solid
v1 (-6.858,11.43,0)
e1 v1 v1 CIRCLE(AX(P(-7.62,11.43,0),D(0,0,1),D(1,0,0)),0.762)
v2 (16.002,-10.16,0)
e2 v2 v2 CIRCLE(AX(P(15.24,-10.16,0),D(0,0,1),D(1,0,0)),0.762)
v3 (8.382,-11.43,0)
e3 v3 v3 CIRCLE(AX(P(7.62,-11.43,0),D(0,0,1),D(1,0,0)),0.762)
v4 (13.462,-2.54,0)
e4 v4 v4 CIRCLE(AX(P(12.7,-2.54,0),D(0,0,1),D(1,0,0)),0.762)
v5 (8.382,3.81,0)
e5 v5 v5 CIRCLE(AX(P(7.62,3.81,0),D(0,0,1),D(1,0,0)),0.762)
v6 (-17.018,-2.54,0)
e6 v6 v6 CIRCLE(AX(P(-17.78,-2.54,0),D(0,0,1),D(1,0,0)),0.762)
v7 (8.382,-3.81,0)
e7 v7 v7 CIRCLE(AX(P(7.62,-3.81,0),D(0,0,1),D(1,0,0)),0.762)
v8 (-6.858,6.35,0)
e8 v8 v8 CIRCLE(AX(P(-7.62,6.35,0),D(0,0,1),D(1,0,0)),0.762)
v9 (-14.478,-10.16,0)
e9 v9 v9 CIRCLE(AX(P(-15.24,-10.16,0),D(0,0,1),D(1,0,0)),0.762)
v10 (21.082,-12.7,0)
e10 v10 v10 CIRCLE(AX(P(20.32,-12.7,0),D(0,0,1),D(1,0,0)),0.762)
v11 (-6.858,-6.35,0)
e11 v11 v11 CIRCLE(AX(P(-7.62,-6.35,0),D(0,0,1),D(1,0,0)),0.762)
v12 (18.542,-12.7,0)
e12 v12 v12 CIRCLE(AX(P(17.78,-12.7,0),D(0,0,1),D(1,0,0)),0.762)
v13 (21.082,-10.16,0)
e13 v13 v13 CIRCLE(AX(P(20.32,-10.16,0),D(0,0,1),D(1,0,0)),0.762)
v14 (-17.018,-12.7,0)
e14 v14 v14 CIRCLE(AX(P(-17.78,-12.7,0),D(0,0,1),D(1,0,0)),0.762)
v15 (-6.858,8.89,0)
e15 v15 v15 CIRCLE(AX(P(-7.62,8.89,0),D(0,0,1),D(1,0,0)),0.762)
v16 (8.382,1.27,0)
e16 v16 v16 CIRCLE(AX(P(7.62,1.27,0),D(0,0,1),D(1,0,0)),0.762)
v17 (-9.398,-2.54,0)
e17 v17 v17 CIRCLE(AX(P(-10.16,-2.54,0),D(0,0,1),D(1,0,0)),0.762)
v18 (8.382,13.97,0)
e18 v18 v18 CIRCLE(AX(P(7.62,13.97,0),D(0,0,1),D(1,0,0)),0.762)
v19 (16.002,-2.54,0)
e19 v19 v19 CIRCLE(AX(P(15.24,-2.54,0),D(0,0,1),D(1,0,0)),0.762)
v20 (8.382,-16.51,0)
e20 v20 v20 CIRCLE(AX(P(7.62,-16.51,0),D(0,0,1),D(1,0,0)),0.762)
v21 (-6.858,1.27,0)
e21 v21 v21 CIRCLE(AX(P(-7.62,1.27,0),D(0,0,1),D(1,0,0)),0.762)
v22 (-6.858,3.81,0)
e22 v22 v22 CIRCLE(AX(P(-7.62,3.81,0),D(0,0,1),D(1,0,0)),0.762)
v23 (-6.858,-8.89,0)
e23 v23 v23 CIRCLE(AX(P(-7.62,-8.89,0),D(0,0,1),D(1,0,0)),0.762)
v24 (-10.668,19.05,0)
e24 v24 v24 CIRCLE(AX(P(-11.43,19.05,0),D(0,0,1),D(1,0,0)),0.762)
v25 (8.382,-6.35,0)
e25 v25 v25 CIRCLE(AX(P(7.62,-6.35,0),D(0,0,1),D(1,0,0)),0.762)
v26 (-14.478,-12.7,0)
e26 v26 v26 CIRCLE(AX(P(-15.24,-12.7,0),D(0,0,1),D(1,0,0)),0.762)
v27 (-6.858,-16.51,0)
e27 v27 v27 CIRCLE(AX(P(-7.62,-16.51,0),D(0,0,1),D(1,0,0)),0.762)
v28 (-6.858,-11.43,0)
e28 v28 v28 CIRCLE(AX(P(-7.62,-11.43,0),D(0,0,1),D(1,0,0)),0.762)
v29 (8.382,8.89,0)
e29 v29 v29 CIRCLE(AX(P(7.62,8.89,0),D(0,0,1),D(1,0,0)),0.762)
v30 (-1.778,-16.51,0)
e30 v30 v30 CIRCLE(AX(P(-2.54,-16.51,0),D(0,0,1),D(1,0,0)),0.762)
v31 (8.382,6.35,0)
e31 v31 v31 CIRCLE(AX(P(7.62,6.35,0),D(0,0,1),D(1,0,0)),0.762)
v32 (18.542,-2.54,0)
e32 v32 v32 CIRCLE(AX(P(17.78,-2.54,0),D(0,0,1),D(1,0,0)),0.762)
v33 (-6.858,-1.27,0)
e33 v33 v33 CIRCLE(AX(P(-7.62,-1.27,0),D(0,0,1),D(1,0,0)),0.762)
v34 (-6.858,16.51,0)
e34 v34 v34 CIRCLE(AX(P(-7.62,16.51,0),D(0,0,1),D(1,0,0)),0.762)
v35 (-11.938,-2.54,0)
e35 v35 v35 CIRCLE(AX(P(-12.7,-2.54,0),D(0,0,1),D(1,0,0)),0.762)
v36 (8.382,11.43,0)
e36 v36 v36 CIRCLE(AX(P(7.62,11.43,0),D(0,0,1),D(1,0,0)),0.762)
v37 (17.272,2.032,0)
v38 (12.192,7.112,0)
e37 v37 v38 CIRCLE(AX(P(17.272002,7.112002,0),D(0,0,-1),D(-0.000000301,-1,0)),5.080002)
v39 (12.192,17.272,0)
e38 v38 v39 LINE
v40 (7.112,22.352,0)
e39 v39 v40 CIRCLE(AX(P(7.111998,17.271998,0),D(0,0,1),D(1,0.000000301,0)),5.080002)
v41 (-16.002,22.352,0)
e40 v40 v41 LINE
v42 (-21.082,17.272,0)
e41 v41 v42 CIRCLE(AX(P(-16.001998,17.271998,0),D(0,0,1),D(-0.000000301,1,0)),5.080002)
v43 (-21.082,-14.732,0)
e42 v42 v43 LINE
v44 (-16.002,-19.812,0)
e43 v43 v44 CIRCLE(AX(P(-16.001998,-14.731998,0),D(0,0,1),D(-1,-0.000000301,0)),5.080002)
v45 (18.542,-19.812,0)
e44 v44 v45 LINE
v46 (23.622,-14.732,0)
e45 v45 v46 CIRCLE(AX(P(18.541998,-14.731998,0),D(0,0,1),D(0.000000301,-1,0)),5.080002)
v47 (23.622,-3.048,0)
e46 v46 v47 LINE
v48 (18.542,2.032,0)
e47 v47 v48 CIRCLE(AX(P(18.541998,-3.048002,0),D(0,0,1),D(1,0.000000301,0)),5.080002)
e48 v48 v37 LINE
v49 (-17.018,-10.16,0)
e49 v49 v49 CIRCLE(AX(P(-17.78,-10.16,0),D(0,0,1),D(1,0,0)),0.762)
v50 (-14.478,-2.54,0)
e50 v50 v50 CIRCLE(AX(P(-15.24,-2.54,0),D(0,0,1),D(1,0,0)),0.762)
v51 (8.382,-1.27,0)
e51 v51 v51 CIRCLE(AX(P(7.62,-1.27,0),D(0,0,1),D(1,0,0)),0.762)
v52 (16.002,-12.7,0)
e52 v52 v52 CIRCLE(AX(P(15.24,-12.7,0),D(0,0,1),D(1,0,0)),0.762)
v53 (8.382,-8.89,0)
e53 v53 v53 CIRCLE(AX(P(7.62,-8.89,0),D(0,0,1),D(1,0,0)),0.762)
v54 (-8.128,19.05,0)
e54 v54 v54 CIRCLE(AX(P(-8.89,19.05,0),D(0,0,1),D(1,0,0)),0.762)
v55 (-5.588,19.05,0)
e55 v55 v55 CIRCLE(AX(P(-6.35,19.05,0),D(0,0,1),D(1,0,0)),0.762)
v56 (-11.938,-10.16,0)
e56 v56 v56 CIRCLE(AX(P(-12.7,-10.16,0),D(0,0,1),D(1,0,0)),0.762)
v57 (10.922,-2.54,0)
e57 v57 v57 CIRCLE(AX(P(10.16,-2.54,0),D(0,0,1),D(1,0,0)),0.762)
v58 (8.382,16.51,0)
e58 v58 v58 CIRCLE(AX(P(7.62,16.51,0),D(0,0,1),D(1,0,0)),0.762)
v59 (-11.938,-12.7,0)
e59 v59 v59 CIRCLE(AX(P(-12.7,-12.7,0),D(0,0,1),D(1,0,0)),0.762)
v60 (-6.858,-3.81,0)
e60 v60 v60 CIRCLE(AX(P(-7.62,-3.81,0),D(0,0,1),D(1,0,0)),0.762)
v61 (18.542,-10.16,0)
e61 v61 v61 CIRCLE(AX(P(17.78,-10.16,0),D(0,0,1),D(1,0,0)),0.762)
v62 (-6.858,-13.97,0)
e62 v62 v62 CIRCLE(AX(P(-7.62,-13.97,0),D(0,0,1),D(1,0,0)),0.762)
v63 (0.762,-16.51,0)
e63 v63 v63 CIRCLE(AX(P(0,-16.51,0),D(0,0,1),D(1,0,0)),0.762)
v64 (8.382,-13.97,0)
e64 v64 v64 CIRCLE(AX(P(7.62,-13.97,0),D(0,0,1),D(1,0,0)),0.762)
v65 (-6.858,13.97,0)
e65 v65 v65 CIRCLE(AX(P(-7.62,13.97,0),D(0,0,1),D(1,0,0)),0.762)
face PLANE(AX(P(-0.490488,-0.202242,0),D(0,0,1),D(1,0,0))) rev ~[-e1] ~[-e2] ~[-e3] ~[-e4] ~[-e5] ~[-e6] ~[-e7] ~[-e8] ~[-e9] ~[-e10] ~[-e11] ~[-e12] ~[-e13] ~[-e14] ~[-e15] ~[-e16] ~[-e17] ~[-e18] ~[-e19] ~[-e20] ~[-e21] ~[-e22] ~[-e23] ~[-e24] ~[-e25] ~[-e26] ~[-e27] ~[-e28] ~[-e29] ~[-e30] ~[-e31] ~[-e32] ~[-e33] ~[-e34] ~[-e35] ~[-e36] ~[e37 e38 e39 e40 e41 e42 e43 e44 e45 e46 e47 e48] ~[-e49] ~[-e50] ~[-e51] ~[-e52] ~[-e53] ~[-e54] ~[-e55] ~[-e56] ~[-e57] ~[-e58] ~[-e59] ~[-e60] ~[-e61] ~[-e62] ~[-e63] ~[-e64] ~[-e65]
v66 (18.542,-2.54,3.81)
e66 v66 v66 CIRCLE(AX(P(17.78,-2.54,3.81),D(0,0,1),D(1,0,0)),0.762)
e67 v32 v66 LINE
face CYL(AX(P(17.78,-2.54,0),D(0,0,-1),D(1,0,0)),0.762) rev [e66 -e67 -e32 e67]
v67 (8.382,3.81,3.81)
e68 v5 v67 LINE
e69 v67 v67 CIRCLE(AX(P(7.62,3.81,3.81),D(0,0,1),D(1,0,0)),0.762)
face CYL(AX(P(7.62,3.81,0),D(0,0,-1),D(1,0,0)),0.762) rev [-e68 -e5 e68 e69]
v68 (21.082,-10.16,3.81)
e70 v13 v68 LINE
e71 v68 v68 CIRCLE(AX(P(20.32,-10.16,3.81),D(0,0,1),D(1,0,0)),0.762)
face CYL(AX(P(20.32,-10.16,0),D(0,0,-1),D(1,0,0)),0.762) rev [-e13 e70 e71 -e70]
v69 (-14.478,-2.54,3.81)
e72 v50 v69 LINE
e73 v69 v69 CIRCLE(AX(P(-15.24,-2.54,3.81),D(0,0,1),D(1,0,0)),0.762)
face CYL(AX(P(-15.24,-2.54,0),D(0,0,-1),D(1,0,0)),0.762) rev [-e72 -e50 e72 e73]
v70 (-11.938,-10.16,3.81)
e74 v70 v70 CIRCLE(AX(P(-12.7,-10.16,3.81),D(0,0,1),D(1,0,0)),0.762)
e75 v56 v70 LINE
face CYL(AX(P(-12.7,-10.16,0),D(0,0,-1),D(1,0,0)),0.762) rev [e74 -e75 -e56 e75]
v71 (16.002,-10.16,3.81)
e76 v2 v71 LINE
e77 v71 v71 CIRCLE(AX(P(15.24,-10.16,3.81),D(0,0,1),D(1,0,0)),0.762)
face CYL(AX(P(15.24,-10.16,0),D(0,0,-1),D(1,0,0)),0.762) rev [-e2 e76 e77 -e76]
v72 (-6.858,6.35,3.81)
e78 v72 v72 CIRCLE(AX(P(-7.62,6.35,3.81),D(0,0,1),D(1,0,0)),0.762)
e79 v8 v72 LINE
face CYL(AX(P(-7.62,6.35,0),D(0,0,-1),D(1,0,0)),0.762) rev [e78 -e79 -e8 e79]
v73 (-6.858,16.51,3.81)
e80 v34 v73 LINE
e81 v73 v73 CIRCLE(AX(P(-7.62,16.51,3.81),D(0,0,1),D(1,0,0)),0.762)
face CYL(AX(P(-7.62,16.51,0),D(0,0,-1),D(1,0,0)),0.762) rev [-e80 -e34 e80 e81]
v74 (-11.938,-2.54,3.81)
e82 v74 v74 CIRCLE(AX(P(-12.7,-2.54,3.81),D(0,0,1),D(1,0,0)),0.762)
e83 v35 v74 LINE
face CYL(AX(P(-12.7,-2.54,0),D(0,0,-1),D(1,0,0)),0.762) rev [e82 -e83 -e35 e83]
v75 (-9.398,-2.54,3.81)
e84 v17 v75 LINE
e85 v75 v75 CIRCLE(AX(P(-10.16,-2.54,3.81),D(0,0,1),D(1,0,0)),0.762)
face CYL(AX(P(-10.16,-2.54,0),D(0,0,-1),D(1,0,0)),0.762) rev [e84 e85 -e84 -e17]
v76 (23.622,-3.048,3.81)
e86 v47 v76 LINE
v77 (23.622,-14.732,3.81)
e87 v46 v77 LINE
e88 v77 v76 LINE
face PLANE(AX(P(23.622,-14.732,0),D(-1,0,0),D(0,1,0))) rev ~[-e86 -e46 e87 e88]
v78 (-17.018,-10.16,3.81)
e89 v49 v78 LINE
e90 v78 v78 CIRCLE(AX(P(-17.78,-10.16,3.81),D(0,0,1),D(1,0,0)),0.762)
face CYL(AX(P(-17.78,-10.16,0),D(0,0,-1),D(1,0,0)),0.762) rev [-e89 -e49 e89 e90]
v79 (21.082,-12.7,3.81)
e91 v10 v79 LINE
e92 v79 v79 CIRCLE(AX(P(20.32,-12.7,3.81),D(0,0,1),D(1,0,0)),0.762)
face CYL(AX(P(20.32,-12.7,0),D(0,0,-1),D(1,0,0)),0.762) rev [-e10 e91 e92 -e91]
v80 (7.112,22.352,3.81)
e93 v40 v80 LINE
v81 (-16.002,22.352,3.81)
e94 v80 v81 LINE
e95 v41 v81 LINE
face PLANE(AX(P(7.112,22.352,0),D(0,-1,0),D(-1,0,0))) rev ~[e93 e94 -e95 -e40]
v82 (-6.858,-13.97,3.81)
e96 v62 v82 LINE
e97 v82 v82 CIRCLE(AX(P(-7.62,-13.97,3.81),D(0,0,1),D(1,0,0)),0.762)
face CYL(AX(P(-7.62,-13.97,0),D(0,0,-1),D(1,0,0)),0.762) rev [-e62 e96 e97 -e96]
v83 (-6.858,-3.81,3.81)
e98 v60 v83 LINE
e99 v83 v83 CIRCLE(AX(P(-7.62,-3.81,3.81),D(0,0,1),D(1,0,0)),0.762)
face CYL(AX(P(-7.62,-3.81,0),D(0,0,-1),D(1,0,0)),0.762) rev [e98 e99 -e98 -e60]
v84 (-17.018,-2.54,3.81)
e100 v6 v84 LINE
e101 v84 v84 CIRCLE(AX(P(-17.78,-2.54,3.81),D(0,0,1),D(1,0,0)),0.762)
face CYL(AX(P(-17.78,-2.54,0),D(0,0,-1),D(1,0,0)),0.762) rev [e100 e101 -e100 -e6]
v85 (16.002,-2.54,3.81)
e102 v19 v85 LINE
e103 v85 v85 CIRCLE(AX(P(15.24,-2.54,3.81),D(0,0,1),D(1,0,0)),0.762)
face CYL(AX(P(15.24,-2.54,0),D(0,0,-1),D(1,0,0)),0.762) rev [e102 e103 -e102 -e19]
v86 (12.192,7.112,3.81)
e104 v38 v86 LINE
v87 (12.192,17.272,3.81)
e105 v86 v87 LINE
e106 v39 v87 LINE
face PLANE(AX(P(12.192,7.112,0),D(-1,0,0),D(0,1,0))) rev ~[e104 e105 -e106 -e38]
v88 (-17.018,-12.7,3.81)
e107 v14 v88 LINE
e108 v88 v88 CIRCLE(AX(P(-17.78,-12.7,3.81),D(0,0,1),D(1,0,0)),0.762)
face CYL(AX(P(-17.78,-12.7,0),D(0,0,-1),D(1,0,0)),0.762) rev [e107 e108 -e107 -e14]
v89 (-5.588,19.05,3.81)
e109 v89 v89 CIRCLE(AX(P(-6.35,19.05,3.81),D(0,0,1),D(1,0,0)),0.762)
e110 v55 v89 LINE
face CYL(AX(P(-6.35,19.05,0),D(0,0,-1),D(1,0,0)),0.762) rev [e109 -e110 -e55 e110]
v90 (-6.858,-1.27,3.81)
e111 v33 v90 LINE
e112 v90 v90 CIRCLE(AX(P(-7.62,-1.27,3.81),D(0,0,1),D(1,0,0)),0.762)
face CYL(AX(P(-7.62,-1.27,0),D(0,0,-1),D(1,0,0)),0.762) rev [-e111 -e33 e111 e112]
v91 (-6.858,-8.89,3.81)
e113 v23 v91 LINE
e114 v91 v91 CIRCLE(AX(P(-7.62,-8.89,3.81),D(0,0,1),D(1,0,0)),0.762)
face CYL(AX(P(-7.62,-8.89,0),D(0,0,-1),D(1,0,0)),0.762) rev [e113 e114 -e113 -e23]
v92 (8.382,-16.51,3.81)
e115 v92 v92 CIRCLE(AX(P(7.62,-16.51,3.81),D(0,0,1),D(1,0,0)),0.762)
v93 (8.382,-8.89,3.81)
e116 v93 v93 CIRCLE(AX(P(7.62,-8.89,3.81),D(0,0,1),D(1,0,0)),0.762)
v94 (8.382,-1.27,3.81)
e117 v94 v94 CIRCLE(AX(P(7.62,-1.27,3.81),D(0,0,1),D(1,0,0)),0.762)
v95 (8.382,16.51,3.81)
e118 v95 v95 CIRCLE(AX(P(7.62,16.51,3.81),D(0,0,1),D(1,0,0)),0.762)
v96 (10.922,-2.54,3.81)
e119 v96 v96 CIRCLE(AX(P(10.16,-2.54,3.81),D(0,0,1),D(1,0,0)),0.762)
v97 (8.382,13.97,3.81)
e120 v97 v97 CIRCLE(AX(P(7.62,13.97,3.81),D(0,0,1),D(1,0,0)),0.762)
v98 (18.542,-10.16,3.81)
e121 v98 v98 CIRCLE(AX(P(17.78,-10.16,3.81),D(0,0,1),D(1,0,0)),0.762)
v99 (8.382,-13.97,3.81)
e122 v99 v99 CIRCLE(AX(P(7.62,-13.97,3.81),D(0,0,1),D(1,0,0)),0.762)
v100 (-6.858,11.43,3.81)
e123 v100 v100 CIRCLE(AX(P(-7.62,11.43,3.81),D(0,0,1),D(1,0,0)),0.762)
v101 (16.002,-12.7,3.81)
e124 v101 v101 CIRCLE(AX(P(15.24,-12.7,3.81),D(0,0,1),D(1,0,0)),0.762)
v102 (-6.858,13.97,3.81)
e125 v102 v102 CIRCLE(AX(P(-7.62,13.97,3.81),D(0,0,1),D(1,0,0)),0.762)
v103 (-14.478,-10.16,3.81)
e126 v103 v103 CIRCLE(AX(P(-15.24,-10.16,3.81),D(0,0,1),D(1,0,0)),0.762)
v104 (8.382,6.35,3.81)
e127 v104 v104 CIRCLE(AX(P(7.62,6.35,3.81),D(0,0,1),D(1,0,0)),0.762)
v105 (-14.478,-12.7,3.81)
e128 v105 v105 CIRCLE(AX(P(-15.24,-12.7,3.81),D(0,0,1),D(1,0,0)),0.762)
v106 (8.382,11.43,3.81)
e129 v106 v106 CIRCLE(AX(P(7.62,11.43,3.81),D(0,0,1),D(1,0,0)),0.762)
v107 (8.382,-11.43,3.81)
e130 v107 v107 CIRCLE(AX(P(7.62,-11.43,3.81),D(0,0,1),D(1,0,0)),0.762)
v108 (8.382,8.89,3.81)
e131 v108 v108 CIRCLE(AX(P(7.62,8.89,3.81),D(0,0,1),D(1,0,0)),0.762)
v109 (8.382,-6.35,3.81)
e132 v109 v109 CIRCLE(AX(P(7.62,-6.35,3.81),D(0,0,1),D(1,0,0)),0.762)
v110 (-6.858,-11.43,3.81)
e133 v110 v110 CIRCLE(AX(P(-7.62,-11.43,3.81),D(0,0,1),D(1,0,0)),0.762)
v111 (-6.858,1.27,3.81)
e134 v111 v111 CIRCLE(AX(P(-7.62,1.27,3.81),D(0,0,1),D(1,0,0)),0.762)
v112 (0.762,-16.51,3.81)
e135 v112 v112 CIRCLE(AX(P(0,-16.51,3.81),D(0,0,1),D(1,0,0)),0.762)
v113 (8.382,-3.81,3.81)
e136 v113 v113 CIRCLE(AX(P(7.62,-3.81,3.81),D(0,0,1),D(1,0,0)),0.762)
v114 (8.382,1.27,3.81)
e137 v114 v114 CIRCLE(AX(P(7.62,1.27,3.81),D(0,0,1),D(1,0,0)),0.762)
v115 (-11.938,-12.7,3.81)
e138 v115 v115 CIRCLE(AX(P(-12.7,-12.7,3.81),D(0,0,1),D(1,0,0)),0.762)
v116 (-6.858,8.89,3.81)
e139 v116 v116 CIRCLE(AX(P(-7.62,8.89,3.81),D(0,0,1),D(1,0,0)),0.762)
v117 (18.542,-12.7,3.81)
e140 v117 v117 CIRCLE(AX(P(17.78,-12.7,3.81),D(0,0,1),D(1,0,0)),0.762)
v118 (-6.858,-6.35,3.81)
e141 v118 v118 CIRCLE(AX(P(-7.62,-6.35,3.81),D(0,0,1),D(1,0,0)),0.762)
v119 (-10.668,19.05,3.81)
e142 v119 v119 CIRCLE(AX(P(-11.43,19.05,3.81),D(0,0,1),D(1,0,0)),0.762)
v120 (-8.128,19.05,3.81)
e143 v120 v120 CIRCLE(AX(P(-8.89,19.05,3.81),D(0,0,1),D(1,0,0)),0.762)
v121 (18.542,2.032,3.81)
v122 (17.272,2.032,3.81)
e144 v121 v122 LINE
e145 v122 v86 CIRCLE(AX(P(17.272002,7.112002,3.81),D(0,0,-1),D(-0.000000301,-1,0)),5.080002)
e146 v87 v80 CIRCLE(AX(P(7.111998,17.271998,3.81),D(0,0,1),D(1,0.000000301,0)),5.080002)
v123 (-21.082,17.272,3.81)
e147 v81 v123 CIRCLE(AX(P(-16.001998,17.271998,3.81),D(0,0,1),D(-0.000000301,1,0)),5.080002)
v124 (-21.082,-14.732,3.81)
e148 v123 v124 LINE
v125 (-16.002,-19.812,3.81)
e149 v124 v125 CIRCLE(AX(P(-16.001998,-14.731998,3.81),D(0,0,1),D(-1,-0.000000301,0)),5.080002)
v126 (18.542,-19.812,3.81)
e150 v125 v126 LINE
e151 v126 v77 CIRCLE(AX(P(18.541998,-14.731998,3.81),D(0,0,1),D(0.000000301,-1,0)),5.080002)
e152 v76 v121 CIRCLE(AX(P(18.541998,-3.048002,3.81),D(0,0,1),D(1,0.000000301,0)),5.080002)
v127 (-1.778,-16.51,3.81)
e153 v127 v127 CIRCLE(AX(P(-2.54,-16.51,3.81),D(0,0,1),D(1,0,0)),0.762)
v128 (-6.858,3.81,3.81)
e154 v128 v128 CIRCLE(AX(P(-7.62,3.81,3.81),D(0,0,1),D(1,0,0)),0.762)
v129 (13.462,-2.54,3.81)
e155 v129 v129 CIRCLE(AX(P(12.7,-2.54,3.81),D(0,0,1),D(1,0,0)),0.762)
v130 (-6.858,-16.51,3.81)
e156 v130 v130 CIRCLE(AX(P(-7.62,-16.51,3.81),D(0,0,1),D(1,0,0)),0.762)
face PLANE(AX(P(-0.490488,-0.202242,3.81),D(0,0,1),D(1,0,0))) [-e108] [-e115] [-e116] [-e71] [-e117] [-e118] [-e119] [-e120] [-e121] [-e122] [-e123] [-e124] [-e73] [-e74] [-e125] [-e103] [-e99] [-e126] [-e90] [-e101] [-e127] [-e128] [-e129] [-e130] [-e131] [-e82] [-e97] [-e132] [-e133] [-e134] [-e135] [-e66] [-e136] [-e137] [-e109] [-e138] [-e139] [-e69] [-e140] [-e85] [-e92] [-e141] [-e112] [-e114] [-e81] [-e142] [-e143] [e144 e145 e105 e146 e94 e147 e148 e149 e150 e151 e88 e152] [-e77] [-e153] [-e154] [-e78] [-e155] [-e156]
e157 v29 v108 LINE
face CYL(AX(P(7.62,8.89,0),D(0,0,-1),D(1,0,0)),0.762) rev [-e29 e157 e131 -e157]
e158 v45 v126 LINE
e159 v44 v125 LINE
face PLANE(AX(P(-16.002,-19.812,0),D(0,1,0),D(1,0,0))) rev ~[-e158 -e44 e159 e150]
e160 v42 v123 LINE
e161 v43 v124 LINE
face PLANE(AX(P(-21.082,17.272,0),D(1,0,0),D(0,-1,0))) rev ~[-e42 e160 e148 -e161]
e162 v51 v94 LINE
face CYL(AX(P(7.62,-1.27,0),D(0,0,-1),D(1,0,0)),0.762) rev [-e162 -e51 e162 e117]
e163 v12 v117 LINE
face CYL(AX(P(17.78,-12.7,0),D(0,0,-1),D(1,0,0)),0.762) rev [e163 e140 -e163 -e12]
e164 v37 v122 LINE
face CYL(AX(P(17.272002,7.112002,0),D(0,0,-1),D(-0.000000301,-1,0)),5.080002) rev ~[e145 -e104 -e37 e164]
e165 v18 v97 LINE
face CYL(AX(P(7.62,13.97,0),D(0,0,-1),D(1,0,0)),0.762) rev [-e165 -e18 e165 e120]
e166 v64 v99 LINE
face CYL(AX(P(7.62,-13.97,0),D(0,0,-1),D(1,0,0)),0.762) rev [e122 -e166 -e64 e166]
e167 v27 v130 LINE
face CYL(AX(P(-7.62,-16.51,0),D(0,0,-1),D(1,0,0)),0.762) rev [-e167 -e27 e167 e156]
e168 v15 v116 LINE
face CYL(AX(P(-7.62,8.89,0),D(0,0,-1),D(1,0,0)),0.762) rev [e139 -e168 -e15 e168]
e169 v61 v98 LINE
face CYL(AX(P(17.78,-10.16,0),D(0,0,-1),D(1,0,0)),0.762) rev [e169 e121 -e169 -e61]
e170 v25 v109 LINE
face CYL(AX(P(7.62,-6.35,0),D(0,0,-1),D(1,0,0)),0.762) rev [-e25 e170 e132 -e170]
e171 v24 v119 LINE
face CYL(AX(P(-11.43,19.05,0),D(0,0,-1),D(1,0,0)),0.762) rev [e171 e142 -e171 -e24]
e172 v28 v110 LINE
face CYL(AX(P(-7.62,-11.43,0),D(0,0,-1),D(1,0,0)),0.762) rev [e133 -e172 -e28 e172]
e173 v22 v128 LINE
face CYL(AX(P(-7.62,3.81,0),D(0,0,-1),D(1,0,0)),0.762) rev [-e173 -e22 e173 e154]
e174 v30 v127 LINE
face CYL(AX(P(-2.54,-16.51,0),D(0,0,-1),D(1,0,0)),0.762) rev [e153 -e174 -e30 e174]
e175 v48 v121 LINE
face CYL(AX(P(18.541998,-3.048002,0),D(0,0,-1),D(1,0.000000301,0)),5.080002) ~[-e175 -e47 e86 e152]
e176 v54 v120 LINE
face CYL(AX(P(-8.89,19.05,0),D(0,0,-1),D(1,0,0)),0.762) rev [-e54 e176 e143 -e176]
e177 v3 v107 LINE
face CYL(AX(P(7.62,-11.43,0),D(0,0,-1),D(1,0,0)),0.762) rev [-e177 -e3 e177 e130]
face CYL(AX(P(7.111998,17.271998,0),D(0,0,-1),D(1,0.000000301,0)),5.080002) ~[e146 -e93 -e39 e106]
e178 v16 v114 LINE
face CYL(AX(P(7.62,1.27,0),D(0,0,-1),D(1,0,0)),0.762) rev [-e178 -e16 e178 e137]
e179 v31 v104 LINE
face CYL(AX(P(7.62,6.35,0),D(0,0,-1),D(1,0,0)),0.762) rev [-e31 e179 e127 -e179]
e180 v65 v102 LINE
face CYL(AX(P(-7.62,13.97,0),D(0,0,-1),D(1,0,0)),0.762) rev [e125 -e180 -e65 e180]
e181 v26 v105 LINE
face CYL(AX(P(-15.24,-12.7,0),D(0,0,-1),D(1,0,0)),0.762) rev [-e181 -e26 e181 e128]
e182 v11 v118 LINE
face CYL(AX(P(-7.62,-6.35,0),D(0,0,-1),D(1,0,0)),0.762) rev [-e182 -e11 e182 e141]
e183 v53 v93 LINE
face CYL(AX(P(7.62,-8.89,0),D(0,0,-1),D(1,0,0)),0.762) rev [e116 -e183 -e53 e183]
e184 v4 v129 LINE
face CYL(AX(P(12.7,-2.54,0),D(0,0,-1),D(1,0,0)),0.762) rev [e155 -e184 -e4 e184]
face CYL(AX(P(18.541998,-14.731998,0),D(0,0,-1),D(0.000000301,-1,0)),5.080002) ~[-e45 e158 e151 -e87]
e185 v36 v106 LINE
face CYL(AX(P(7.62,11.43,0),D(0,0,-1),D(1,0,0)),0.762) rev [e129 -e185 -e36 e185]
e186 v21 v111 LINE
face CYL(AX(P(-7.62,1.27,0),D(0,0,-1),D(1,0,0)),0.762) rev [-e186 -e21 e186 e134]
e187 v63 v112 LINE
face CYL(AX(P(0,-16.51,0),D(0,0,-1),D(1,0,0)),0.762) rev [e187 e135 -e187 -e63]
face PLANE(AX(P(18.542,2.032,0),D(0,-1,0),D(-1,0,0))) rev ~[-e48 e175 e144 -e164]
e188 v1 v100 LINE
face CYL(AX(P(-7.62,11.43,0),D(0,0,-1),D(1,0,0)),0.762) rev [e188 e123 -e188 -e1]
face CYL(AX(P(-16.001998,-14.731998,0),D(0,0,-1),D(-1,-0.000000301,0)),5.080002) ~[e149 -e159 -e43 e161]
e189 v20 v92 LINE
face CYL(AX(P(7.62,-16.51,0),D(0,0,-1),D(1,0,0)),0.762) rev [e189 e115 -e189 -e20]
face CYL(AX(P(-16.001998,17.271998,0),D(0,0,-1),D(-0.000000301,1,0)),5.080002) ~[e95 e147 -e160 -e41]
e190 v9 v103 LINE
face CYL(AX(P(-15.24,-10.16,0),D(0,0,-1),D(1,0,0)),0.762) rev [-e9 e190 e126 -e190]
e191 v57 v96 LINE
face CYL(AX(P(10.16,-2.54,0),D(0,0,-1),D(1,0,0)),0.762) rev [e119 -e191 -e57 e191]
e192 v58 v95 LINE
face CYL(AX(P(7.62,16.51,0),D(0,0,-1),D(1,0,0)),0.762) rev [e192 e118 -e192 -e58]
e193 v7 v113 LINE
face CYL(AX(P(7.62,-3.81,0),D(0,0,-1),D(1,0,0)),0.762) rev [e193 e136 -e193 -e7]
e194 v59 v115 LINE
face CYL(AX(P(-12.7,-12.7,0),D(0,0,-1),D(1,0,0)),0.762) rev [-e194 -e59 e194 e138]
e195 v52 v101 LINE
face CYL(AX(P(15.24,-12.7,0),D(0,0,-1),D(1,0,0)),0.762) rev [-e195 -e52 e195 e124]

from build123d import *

# Parameters (mm, degrees)
F0_R     = 0.762
F1_DEPTH = 3.81


with BuildPart() as f1:
    # F0 (on Top) → F1 (new body)
    with BuildSketch(Plane.XY):
        with BuildLine():
            Line((7.112, 22.352), (-16.002, 22.352))
            ThreePointArc((-16.002, 22.352), (-19.594102, 20.864102), (-21.082, 17.272))
            Line((-21.082, 17.272), (-21.082, -14.732))
            ThreePointArc((-21.082, -14.732), (-19.594102, -18.324102), (-16.002, -19.812))
            Line((-16.002, -19.812), (18.542, -19.812))
            ThreePointArc((18.542, -19.812), (22.134102, -18.324102), (23.622, -14.732))
            Line((23.622, -14.732), (23.622, -3.048))
            ThreePointArc((23.622, -3.048), (22.134102, 0.544102), (18.542, 2.032))
            Line((18.542, 2.032), (17.272, 2.032))
            ThreePointArc((17.272, 2.032), (13.679898, 3.519898), (12.192, 7.112))
            Line((12.192, 7.112), (12.192, 17.272))
            ThreePointArc((12.192, 17.272), (10.704102, 20.864102), (7.112, 22.352))
        make_face()
        with Locations((-17.78, -12.7)):
            Circle(F0_R, mode=Mode.SUBTRACT)
        with Locations((-17.78, -10.16)):
            Circle(F0_R, mode=Mode.SUBTRACT)
        with Locations((-15.24, -12.7)):
            Circle(F0_R, mode=Mode.SUBTRACT)
        with Locations((-12.7, -12.7)):
            Circle(F0_R, mode=Mode.SUBTRACT)
        with Locations((-15.24, -10.16)):
            Circle(F0_R, mode=Mode.SUBTRACT)
        with Locations((-12.7, -10.16)):
            Circle(F0_R, mode=Mode.SUBTRACT)
        with Locations((-7.62, -16.51)):
            Circle(F0_R, mode=Mode.SUBTRACT)
        with Locations((-2.54, -16.51)):
            Circle(F0_R, mode=Mode.SUBTRACT)
        with Locations((0, -16.51)):
            Circle(F0_R, mode=Mode.SUBTRACT)
        with Locations((-7.62, -13.97)):
            Circle(F0_R, mode=Mode.SUBTRACT)
        with Locations((-7.62, -11.43)):
            Circle(F0_R, mode=Mode.SUBTRACT)
        with Locations((-17.78, -2.54)):
            Circle(F0_R, mode=Mode.SUBTRACT)
        with Locations((-15.24, -2.54)):
            Circle(F0_R, mode=Mode.SUBTRACT)
        with Locations((-12.7, -2.54)):
            Circle(F0_R, mode=Mode.SUBTRACT)
        with Locations((-10.16, -2.54)):
            Circle(F0_R, mode=Mode.SUBTRACT)
        with Locations((-7.62, -8.89)):
            Circle(F0_R, mode=Mode.SUBTRACT)
        with Locations((-7.62, -6.35)):
            Circle(F0_R, mode=Mode.SUBTRACT)
        with Locations((-7.62, -3.81)):
            Circle(F0_R, mode=Mode.SUBTRACT)
        with Locations((-7.62, -1.27)):
            Circle(F0_R, mode=Mode.SUBTRACT)
        with Locations((7.62, -16.51)):
            Circle(F0_R, mode=Mode.SUBTRACT)
        with Locations((7.62, -13.97)):
            Circle(F0_R, mode=Mode.SUBTRACT)
        with Locations((7.62, -11.43)):
            Circle(F0_R, mode=Mode.SUBTRACT)
        with Locations((15.24, -12.7)):
            Circle(F0_R, mode=Mode.SUBTRACT)
        with Locations((17.78, -12.7)):
            Circle(F0_R, mode=Mode.SUBTRACT)
        with Locations((15.24, -10.16)):
            Circle(F0_R, mode=Mode.SUBTRACT)
        with Locations((17.78, -10.16)):
            Circle(F0_R, mode=Mode.SUBTRACT)
        with Locations((20.32, -12.7)):
            Circle(F0_R, mode=Mode.SUBTRACT)
        with Locations((20.32, -10.16)):
            Circle(F0_R, mode=Mode.SUBTRACT)
        with Locations((7.62, -8.89)):
            Circle(F0_R, mode=Mode.SUBTRACT)
        with Locations((7.62, -6.35)):
            Circle(F0_R, mode=Mode.SUBTRACT)
        with Locations((7.62, -3.81)):
            Circle(F0_R, mode=Mode.SUBTRACT)
        with Locations((10.16, -2.54)):
            Circle(F0_R, mode=Mode.SUBTRACT)
        with Locations((7.62, -1.27)):
            Circle(F0_R, mode=Mode.SUBTRACT)
        with Locations((12.7, -2.54)):
            Circle(F0_R, mode=Mode.SUBTRACT)
        with Locations((15.24, -2.54)):
            Circle(F0_R, mode=Mode.SUBTRACT)
        with Locations((17.78, -2.54)):
            Circle(F0_R, mode=Mode.SUBTRACT)
        with Locations((-7.62, 1.27)):
            Circle(F0_R, mode=Mode.SUBTRACT)
        with Locations((-7.62, 3.81)):
            Circle(F0_R, mode=Mode.SUBTRACT)
        with Locations((-7.62, 6.35)):
            Circle(F0_R, mode=Mode.SUBTRACT)
        with Locations((-7.62, 8.89)):
            Circle(F0_R, mode=Mode.SUBTRACT)
        with Locations((-7.62, 11.43)):
            Circle(F0_R, mode=Mode.SUBTRACT)
        with Locations((-11.43, 19.05)):
            Circle(F0_R, mode=Mode.SUBTRACT)
        with Locations((-7.62, 13.97)):
            Circle(F0_R, mode=Mode.SUBTRACT)
        with Locations((-7.62, 16.51)):
            Circle(F0_R, mode=Mode.SUBTRACT)
        with Locations((-8.89, 19.05)):
            Circle(F0_R, mode=Mode.SUBTRACT)
        with Locations((-6.35, 19.05)):
            Circle(F0_R, mode=Mode.SUBTRACT)
        with Locations((7.62, 1.27)):
            Circle(F0_R, mode=Mode.SUBTRACT)
        with Locations((7.62, 3.81)):
            Circle(F0_R, mode=Mode.SUBTRACT)
        with Locations((7.62, 6.35)):
            Circle(F0_R, mode=Mode.SUBTRACT)
        with Locations((7.62, 8.89)):
            Circle(F0_R, mode=Mode.SUBTRACT)
        with Locations((7.62, 11.43)):
            Circle(F0_R, mode=Mode.SUBTRACT)
        with Locations((7.62, 13.97)):
            Circle(F0_R, mode=Mode.SUBTRACT)
        with Locations((7.62, 16.51)):
            Circle(F0_R, mode=Mode.SUBTRACT)
    extrude(amount=F1_DEPTH)


solid = f1.part
